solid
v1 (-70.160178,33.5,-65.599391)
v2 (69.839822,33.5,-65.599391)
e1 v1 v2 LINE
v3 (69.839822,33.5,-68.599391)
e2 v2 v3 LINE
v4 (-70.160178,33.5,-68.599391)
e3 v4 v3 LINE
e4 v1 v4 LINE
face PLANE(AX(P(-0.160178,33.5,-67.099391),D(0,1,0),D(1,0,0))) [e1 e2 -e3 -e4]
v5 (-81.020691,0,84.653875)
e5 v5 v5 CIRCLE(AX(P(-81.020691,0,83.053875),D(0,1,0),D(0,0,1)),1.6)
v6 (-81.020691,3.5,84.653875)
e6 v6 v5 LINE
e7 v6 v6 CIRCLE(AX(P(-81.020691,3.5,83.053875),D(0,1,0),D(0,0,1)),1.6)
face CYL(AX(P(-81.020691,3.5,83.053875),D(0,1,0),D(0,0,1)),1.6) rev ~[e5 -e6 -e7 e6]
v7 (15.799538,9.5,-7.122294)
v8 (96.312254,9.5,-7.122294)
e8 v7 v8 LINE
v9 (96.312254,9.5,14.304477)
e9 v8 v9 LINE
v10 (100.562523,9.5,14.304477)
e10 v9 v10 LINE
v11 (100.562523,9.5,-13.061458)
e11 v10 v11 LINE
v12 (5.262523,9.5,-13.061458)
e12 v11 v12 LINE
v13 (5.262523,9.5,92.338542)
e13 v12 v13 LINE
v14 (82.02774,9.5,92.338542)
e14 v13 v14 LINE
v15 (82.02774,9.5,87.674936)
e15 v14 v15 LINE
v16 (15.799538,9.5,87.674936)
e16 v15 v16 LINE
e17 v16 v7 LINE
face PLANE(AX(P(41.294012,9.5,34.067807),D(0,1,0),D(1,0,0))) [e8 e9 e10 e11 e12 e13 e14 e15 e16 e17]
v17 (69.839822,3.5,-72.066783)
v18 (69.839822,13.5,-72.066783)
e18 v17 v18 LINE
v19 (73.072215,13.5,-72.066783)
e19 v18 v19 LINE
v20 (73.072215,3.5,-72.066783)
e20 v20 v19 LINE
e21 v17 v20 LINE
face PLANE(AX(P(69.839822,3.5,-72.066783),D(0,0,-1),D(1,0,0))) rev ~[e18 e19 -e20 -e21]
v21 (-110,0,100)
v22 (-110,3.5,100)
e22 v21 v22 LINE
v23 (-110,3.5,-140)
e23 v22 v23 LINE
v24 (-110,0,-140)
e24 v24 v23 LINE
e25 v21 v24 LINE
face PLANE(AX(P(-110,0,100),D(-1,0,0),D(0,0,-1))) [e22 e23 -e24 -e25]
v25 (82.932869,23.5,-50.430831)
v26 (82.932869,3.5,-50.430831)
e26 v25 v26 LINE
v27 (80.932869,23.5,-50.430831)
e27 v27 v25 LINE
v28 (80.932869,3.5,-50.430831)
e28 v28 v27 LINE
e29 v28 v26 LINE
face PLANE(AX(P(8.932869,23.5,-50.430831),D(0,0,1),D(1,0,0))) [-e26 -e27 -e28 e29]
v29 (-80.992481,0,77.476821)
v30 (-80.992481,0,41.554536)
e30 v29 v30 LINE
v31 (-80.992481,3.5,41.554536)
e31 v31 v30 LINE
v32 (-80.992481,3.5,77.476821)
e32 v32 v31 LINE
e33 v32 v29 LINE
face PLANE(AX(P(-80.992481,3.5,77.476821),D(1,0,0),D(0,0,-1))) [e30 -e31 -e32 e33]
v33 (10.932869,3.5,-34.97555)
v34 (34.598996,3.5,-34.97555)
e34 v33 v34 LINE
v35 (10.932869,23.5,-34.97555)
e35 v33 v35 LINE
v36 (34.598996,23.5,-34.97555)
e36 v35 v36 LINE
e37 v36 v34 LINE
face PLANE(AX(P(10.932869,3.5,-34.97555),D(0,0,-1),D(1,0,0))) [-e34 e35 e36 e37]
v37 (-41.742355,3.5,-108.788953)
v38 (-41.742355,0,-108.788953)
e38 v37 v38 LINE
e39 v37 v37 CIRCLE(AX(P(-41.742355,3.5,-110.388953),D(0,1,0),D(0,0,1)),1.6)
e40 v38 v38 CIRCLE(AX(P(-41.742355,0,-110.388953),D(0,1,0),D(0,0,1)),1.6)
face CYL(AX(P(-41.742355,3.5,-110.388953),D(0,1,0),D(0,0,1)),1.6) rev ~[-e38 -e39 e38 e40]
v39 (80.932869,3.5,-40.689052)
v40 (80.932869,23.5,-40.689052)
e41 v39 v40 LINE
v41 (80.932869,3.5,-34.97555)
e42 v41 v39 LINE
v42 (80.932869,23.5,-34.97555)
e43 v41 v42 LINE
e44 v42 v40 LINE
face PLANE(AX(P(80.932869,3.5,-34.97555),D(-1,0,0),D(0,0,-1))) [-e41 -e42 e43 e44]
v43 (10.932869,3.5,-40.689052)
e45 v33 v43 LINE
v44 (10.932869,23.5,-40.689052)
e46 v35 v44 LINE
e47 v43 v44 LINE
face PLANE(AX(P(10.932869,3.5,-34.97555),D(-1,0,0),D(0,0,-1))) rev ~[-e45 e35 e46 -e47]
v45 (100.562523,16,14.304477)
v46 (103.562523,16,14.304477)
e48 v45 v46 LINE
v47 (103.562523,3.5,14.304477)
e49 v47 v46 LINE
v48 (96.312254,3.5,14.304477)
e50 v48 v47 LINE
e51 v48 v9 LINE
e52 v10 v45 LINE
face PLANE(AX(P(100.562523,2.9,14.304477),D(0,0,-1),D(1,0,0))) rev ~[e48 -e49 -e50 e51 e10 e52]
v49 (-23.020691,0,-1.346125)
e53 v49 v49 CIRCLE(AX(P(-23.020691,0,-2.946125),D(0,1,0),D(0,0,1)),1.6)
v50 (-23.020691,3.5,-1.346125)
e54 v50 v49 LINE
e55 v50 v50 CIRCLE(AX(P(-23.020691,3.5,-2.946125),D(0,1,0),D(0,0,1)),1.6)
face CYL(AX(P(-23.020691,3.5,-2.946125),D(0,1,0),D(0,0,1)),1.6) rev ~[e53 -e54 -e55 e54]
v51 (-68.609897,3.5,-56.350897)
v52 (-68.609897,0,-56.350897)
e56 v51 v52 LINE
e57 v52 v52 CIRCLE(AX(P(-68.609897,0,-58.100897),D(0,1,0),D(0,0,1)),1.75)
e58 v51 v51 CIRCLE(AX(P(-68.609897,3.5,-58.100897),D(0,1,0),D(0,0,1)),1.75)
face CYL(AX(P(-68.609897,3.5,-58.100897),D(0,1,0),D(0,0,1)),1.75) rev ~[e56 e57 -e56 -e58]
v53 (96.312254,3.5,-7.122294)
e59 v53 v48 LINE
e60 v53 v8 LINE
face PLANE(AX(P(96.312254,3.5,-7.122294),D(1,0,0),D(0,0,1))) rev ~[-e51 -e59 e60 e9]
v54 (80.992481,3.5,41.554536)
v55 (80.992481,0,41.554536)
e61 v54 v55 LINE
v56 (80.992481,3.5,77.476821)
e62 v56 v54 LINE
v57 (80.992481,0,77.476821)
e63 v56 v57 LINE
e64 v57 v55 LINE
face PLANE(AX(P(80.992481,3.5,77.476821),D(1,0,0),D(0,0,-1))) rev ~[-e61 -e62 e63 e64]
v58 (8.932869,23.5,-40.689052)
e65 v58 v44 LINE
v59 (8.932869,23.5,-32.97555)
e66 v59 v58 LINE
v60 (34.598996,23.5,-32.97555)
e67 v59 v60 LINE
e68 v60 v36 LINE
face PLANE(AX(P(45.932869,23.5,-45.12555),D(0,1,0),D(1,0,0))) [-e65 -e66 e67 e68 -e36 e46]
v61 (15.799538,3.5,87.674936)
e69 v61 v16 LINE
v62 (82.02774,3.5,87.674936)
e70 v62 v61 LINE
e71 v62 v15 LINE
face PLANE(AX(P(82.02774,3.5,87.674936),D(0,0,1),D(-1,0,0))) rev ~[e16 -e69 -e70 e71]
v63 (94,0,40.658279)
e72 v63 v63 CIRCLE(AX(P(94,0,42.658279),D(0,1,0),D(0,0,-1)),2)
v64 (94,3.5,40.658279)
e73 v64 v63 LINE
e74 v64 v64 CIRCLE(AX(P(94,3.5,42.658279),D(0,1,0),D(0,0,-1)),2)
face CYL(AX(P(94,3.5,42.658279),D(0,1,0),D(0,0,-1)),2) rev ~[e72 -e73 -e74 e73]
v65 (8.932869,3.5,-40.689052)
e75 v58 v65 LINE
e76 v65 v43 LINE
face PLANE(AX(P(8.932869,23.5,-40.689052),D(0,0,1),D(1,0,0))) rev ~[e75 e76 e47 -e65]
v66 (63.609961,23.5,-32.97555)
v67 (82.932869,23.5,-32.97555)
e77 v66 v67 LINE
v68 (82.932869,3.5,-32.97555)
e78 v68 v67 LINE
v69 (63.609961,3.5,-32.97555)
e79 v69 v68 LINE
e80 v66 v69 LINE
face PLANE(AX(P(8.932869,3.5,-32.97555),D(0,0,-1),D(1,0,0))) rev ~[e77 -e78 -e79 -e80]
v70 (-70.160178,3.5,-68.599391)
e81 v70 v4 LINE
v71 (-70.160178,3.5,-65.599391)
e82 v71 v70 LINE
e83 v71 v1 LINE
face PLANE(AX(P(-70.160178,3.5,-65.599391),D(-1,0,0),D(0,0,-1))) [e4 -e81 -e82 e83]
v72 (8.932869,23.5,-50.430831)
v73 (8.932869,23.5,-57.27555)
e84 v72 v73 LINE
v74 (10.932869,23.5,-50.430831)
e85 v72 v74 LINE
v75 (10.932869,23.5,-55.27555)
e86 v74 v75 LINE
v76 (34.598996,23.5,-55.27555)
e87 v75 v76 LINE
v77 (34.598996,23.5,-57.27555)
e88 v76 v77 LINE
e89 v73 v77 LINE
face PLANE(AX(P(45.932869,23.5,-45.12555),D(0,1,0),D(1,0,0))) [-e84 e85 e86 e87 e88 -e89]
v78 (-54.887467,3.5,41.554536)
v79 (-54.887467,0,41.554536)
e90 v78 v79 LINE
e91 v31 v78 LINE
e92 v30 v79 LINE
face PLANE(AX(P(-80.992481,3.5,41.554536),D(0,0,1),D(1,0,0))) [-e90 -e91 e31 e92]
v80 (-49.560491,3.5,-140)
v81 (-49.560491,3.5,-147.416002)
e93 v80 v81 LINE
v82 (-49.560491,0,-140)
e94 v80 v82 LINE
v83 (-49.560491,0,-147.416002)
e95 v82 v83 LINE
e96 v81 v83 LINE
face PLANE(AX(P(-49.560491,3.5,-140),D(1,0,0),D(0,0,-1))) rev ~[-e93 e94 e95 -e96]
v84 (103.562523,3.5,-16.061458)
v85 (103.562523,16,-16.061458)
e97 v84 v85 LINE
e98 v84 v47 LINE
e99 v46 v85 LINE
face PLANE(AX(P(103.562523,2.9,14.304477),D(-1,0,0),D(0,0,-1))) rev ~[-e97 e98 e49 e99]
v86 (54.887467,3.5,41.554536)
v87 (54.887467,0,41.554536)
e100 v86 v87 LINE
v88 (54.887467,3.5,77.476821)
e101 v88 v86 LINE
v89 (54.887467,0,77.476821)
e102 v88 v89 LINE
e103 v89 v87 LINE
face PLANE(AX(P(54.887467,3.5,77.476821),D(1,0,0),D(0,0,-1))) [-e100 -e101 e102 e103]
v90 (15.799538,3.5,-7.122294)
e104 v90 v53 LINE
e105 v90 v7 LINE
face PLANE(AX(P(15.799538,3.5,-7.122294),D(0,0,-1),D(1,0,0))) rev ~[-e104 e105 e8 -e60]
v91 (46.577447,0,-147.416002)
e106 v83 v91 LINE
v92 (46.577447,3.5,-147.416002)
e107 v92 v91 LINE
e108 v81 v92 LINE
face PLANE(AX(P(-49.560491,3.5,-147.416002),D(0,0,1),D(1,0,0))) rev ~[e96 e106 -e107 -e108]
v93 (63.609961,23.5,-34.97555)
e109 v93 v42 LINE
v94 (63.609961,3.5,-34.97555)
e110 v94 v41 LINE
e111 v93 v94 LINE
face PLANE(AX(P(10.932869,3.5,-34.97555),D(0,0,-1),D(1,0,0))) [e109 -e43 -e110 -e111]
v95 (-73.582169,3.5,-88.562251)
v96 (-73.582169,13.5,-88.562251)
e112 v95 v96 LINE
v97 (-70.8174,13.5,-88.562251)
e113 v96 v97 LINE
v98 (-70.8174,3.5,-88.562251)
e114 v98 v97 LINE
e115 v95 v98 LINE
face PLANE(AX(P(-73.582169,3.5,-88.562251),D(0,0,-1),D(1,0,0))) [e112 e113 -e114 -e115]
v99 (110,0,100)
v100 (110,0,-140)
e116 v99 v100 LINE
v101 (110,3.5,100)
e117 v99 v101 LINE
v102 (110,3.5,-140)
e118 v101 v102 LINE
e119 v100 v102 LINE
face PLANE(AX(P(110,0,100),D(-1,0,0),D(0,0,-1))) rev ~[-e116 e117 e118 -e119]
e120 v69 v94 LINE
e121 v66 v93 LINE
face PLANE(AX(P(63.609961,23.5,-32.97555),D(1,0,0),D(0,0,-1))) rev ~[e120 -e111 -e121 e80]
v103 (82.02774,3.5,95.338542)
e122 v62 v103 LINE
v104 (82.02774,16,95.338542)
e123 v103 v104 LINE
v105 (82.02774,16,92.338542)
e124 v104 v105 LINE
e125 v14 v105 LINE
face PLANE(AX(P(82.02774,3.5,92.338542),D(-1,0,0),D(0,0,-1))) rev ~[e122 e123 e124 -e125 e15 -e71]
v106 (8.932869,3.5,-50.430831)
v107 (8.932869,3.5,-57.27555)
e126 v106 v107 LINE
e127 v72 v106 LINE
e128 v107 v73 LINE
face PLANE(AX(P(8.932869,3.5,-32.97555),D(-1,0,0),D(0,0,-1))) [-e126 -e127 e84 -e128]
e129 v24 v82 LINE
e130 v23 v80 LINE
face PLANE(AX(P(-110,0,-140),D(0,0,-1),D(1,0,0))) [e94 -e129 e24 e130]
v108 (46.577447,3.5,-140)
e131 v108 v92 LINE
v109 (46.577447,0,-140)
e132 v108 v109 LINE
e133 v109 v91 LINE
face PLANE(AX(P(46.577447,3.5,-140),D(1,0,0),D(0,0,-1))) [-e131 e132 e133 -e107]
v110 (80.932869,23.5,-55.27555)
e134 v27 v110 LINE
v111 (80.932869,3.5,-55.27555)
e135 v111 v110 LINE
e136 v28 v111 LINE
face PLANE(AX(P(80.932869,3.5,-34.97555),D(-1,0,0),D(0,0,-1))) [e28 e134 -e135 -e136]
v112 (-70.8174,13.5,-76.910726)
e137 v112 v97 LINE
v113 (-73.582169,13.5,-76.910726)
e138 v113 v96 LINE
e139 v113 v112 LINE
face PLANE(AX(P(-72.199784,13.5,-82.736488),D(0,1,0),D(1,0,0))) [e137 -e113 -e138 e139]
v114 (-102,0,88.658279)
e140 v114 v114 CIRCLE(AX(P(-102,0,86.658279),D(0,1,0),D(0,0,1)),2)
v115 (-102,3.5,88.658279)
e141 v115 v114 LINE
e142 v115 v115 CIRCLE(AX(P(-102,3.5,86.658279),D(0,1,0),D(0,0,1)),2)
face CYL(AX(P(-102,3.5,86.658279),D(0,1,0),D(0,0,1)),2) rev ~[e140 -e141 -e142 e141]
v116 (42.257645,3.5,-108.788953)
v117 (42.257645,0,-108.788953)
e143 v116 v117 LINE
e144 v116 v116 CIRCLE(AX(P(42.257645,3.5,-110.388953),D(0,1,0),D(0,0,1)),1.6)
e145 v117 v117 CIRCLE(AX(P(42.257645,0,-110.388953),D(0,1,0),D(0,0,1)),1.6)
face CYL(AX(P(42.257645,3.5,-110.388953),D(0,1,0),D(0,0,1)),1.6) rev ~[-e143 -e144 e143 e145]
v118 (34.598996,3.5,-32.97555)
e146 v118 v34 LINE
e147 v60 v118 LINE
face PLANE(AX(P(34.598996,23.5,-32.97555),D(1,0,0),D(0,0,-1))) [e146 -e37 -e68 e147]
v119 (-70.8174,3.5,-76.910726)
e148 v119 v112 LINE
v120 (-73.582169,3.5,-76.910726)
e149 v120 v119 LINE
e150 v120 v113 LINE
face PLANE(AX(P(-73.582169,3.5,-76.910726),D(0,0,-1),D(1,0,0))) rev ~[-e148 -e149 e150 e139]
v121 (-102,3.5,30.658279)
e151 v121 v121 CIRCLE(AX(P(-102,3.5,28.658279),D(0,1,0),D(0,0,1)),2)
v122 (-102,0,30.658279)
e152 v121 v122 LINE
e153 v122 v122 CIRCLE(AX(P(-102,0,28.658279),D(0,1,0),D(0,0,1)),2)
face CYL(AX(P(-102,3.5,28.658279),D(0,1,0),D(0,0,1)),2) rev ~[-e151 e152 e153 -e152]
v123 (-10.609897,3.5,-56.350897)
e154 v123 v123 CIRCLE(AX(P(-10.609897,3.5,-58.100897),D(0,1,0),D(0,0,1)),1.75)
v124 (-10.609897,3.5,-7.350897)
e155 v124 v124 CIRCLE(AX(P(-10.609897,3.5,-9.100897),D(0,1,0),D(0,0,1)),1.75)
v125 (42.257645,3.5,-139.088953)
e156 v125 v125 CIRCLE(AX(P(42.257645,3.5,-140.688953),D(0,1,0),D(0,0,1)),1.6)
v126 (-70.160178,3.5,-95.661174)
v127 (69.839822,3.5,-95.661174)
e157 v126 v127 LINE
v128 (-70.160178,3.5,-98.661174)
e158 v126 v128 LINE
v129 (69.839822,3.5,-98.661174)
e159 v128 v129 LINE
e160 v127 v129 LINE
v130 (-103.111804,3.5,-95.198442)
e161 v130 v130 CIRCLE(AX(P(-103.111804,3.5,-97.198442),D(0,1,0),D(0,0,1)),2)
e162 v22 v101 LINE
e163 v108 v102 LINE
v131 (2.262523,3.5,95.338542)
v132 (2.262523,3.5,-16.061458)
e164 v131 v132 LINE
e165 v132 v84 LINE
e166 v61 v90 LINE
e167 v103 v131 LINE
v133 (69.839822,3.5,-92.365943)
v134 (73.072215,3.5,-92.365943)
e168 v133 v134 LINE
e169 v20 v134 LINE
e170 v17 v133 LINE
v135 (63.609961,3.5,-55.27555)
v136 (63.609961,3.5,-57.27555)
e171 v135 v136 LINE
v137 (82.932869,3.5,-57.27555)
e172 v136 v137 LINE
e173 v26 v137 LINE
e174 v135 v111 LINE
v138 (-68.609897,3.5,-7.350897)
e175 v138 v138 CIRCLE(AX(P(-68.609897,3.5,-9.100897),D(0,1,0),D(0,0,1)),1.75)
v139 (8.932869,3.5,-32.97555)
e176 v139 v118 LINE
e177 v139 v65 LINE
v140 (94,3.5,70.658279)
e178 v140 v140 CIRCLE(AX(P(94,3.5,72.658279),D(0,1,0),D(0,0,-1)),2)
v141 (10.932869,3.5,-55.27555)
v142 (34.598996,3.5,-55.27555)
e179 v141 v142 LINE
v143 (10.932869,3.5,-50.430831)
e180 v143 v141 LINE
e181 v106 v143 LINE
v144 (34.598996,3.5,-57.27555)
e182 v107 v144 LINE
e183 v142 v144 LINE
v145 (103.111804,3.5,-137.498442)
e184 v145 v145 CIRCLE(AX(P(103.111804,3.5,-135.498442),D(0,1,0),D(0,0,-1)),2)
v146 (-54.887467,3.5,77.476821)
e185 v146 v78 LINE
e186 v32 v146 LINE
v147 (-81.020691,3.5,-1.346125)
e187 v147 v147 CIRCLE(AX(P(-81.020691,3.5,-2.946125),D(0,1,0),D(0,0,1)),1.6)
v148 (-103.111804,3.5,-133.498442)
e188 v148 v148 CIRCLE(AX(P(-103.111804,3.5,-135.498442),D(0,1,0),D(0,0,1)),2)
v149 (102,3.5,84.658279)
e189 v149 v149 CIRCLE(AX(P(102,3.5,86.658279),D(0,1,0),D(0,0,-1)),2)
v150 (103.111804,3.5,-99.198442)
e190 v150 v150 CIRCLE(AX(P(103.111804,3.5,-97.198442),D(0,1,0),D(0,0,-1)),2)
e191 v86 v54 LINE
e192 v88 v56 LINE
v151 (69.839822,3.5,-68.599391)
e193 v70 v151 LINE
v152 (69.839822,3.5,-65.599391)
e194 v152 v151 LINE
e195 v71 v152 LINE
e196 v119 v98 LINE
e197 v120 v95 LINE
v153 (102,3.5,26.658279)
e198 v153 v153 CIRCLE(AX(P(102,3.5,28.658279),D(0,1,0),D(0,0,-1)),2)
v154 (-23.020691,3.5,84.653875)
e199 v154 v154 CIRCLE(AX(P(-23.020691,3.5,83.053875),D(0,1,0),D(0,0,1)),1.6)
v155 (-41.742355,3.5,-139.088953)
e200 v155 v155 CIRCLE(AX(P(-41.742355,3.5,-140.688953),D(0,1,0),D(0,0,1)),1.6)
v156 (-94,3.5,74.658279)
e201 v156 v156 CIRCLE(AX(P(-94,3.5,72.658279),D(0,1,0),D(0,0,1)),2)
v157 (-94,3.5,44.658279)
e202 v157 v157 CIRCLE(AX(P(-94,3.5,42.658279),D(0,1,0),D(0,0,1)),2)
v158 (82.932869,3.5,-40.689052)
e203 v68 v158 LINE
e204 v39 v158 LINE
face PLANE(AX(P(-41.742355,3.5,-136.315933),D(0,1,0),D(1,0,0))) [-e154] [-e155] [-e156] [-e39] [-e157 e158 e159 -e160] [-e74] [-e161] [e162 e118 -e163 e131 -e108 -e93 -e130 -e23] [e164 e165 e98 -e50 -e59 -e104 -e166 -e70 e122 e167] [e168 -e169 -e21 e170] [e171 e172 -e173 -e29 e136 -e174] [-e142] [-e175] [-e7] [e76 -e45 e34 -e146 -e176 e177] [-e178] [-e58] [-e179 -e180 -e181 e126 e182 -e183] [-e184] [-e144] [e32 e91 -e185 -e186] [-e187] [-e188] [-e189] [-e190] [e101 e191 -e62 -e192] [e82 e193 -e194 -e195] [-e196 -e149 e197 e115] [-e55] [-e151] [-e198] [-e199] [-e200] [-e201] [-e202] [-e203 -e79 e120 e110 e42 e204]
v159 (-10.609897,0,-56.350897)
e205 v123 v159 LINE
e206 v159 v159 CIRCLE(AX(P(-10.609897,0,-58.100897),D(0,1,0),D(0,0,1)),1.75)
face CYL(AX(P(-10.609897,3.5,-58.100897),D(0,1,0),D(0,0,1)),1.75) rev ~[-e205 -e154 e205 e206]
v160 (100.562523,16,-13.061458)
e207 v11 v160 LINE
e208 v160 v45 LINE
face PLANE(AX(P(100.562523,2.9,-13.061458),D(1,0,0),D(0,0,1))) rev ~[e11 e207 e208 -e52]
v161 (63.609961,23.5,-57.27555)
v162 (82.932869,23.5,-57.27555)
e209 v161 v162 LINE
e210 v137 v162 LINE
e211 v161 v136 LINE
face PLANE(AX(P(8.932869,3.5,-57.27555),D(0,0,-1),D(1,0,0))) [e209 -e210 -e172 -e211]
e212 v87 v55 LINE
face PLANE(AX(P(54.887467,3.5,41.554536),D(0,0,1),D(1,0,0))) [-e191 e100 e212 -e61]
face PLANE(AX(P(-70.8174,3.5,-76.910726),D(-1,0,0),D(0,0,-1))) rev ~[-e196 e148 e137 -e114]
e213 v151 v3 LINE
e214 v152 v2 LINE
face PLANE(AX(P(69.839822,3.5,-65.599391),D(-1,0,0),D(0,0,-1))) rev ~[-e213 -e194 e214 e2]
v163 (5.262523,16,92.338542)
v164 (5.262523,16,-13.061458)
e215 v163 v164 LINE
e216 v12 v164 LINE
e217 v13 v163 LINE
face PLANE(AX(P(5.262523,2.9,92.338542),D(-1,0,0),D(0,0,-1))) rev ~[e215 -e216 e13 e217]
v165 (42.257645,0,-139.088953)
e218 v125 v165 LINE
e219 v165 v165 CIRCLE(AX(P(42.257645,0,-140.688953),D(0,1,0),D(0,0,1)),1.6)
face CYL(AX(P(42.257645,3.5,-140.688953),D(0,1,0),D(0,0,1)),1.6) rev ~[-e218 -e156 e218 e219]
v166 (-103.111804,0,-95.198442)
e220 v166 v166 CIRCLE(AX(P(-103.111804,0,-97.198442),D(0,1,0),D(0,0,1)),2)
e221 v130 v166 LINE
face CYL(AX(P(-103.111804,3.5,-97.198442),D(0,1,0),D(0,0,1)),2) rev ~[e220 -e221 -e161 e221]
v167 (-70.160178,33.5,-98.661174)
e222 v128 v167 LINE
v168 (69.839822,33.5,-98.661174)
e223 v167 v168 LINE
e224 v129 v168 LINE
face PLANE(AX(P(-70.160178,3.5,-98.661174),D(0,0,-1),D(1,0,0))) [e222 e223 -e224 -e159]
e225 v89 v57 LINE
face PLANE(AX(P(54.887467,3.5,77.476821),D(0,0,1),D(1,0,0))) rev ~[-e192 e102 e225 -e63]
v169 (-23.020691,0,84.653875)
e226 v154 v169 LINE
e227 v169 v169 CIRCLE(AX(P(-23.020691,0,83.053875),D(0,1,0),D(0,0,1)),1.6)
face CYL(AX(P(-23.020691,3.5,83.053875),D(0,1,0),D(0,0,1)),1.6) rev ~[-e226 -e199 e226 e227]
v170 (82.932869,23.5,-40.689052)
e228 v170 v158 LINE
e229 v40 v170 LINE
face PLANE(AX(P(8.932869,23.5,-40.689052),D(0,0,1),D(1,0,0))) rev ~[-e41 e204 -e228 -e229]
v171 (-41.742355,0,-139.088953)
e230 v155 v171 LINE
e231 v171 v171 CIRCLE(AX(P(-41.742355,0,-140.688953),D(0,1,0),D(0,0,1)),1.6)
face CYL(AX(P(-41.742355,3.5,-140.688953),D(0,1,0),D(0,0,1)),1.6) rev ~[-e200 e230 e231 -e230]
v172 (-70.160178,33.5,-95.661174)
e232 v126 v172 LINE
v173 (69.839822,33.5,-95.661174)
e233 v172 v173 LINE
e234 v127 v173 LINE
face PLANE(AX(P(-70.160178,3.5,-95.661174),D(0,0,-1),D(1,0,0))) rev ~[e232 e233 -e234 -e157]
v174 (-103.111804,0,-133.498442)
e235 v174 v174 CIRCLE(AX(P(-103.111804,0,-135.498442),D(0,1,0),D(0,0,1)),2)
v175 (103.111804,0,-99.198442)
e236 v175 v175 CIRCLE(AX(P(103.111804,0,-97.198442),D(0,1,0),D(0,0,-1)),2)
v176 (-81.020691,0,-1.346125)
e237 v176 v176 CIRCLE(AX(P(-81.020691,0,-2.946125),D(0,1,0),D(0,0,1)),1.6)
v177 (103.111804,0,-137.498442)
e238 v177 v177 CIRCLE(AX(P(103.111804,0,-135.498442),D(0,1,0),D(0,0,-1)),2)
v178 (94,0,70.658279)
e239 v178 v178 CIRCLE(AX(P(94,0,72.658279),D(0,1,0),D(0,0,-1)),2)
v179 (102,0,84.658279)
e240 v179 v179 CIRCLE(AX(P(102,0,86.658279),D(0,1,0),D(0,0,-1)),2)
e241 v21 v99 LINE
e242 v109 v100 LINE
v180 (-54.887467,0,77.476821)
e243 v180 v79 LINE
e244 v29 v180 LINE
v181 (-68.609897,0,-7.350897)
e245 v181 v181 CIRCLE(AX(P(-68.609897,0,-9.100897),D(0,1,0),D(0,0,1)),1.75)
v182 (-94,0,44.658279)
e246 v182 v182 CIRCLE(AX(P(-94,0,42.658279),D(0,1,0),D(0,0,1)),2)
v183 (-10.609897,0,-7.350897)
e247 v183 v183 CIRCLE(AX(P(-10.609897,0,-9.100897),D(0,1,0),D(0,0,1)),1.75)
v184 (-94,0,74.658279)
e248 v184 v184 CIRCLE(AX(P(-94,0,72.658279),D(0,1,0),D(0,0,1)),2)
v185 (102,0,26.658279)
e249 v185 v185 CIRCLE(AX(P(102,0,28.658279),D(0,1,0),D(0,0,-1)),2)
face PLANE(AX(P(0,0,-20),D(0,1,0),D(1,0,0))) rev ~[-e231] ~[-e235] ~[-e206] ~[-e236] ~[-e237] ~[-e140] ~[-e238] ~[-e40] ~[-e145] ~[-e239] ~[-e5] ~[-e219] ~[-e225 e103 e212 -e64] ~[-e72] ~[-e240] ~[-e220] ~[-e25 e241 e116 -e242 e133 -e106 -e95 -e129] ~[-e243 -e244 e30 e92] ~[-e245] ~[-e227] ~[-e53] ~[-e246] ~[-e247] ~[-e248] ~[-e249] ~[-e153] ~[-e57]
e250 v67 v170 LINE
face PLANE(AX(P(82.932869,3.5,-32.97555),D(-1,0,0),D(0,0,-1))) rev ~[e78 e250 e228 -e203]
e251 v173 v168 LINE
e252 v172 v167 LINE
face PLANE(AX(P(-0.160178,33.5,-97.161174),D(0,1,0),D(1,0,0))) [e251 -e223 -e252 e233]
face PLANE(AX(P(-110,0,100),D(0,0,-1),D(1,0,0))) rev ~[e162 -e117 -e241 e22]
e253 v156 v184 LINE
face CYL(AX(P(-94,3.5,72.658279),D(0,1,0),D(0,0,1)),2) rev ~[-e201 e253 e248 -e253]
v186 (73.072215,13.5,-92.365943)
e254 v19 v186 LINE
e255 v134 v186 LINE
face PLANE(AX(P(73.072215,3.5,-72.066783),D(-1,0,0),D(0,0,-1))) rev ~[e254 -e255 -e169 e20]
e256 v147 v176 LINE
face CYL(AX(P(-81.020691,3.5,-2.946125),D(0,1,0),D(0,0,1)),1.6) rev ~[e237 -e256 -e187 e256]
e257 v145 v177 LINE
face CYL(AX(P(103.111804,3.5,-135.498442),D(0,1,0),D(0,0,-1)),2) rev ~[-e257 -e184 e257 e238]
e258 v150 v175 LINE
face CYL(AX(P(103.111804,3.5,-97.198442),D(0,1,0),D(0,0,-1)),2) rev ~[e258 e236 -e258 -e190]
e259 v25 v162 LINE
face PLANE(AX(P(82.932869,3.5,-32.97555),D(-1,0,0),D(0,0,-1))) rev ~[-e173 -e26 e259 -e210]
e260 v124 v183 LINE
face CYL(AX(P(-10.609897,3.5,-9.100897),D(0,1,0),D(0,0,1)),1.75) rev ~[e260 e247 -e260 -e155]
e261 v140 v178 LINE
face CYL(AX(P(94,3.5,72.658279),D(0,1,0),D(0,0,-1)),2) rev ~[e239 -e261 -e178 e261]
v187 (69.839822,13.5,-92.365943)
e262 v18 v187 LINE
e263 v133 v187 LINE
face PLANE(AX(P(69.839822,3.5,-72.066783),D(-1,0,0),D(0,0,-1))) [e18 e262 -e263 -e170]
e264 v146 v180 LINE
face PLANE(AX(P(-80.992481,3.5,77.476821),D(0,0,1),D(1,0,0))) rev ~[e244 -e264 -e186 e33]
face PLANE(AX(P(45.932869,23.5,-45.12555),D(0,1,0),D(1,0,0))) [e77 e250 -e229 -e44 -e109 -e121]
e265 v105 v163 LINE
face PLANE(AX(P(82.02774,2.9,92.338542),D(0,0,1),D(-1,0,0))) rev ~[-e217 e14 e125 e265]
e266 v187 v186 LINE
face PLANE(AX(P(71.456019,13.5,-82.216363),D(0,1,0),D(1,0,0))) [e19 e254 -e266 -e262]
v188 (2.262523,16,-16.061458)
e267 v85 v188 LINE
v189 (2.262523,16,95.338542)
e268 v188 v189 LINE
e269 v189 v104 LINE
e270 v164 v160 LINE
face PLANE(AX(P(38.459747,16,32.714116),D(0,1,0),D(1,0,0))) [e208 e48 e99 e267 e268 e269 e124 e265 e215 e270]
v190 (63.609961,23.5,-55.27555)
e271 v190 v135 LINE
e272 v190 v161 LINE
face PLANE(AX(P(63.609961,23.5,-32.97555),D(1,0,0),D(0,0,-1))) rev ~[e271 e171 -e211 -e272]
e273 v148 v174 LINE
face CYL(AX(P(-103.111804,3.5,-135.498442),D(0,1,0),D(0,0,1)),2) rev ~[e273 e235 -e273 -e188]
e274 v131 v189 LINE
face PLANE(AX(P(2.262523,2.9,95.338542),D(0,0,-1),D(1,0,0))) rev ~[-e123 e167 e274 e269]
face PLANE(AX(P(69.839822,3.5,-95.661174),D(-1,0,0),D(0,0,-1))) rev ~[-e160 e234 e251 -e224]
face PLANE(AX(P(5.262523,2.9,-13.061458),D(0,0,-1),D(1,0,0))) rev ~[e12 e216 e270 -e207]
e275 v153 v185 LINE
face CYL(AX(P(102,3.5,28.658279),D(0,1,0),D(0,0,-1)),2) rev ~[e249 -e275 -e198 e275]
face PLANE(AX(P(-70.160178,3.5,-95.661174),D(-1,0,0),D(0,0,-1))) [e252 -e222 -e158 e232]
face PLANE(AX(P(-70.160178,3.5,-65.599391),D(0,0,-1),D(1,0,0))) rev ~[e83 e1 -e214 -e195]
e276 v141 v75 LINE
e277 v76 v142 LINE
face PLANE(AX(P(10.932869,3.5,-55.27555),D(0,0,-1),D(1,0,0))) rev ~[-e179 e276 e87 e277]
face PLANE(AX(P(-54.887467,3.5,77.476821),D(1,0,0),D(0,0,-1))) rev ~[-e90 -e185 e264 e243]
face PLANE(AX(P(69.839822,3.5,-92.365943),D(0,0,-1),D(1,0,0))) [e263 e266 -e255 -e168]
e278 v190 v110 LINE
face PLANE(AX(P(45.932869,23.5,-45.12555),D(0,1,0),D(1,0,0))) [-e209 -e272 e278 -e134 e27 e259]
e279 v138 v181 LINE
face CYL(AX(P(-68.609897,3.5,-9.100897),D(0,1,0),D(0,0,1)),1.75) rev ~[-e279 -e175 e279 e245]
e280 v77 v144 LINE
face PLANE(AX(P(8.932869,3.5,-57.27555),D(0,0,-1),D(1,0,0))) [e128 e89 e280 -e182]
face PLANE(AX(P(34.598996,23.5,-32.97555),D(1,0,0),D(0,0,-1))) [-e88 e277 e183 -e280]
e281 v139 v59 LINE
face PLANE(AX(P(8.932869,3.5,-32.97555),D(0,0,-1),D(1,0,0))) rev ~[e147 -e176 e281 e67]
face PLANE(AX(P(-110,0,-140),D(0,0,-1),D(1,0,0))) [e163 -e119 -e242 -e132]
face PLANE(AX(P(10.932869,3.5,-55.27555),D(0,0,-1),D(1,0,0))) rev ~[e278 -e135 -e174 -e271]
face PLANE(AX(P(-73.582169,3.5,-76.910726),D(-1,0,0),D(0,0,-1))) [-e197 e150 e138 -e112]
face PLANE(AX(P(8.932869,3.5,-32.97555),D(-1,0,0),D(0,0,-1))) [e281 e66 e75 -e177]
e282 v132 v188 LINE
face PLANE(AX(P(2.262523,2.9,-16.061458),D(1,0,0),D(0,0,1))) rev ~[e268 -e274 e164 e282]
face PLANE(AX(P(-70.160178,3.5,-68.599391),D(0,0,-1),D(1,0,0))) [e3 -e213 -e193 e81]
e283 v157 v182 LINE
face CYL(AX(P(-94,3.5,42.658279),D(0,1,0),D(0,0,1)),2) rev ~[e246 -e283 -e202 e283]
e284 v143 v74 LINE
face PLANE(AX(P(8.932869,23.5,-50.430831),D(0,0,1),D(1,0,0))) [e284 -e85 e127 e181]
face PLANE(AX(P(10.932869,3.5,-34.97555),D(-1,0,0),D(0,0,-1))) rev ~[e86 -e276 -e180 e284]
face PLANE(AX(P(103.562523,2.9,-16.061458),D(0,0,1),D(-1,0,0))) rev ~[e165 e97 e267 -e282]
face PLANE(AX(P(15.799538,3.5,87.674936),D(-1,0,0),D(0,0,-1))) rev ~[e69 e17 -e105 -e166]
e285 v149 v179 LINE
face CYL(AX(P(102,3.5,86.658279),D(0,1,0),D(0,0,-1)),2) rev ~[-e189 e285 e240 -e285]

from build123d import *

# Parameters (mm, degrees)
SKETCH_1_W           = 220
SKETCH_1_H           = 240
EXTRUDE_2_DEPTH      = 3.5
SKETCH_2_R           = 2
CUT_EXTRUDE_2_DEPTH  = 3.5
SKETCH_3_R           = 2
CUT_EXTRUDE_3_DEPTH  = 3.5
SKETCH_5_R           = 1.6
CUT_EXTRUDE_4_DEPTH  = 5
EXTRUDE_5_DEPTH      = 6
EXTRUDE_6_DEPTH      = 6.5
EXTRUDE_6_DEPTH_BACK = 6.6
SKETCH_10_R          = 1.6
CUT_EXTRUDE_5_DEPTH  = 6.5
SKETCH_11_W          = 140
SKETCH_11_H          = 3
EXTRUDE_7_DEPTH      = 30
SKETCH_12_W          = 3.232393119
SKETCH_12_H          = 20.299160217
EXTRUDE_8_DEPTH      = 10
SKETCH_13_W          = 2.764768701
SKETCH_13_H          = 11.651525239
EXTRUDE_9_DEPTH      = 10
SKETCH_16_W          = 96.137938664
SKETCH_16_H          = 7.416001845
EXTRUDE_10_DEPTH     = 3.5
SKETCH_17_R          = 1.6
EXTRUDE_11_DEPTH     = 3.5
SKETCH_18_R          = 1.6
CUT_EXTRUDE_7_DEPTH  = 10
SKETCH_19_R          = 1.75
CUT_EXTRUDE_8_DEPTH  = 10
SKETCH_20_W          = 74
SKETCH_20_H          = 24.3
SKETCH_20_W_2        = 70
SKETCH_20_H_2        = 20.3
EXTRUDE_12_DEPTH     = 20
SKETCH_21_W          = 74
SKETCH_21_H          = 9.741779049
CUT_EXTRUDE_9_DEPTH  = 20
SKETCH_22_W          = 29.010965049
SKETCH_22_H          = 24.3
CUT_EXTRUDE_10_DEPTH = 20
SKETCH_23_W          = 26.105014581
SKETCH_23_H          = 35.922285021
CUT_EXTRUDE_11_DEPTH = 20


with BuildPart() as part:
    # 草图1 → 凸台-拉伸2 (new body)
    with BuildSketch(Plane(origin=(0, 0, 0), x_dir=(1, 0, 0), z_dir=(0, 1, 0))):
        with Locations((0, 20)):
            Rectangle(SKETCH_1_W, SKETCH_1_H)
    extrude(amount=EXTRUDE_2_DEPTH)

    # 草图2 → 切除-拉伸2 (cut)
    with BuildSketch(Plane(origin=(0, 3.5, 0), x_dir=(1, 0, 0), z_dir=(0, 1, 0))):
        with Locations(Location((-102, -28.658278573, 0), (0, 0, 270))):
            Circle(SKETCH_2_R)
        with Locations(Location((-102, -86.658278573, 0), (0, 0, 270))):
            Circle(SKETCH_2_R)
        with Locations(Location((-94, -42.658278573, 0), (0, 0, 270))):
            Circle(SKETCH_2_R)
        with Locations(Location((-94, -72.658278573, 0), (0, 0, 270))):
            Circle(SKETCH_2_R)
        with Locations(Location((94, -72.658278573, 0), (0, 0, 90))):
            Circle(SKETCH_2_R)
        with Locations(Location((94, -42.658278573, 0), (0, 0, 90))):
            Circle(SKETCH_2_R)
        with Locations(Location((102, -86.658278573, 0), (0, 0, 90))):
            Circle(SKETCH_2_R)
        with Locations(Location((102, -28.658278573, 0), (0, 0, 90))):
            Circle(SKETCH_2_R)
    extrude(amount=-CUT_EXTRUDE_2_DEPTH, mode=Mode.SUBTRACT)

    # 草图3 → 切除-拉伸3 (cut)
    with BuildSketch(Plane(origin=(0, 3.5, 0), x_dir=(1, 0, 0), z_dir=(0, 1, 0))):
        with Locations(Location((-103.111804302, 135.498442221, 0), (0, 0, 270))):
            Circle(SKETCH_3_R)
        with Locations(Location((-103.111804302, 97.198442221, 0), (0, 0, 270))):
            Circle(SKETCH_3_R)
        with Locations(Location((103.111804302, 97.198442221, 0), (0, 0, 90))):
            Circle(SKETCH_3_R)
        with Locations(Location((103.111804302, 135.498442221, 0), (0, 0, 90))):
            Circle(SKETCH_3_R)
    extrude(amount=-CUT_EXTRUDE_3_DEPTH, mode=Mode.SUBTRACT)

    # 草图5 → 切除-拉伸4 (cut)
    with BuildSketch(Plane(origin=(0, 3.5, 0), x_dir=(1, 0, 0), z_dir=(0, 1, 0))):
        with Locations(Location((-81.020690523, 2.946124731, 0), (0, 0, 270))):
            Circle(SKETCH_5_R)
        with Locations(Location((-23.020690523, 2.946124731, 0), (0, 0, 270))):
            Circle(SKETCH_5_R)
        with Locations(Location((-81.020690523, -83.053875269, 0), (0, 0, 270))):
            Circle(SKETCH_5_R)
        with Locations(Location((-23.020690523, -83.053875269, 0), (0, 0, 270))):
            Circle(SKETCH_5_R)
    extrude(amount=-CUT_EXTRUDE_4_DEPTH, mode=Mode.SUBTRACT)

    # 草图6 → 凸台-拉伸5 (add)
    with BuildSketch(Plane(origin=(0, 3.5, 0), x_dir=(1, 0, 0), z_dir=(0, 1, 0))):
        Polygon((5.262523113, 13.061457841), (5.262523113, -92.338542159), (82.027739865, -92.338542159), (82.027739865, -87.674935575), (15.799538285, -87.674935575), (15.799538285, 7.122294137), (18.613154692, 7.122294137), (82.027739865, 7.122294137), (96.312253931, 7.122294137), (96.312253931, -14.304476962), (100.562523113, -14.304476962), (100.562523113, 13.061457841), align=None)
    extrude(amount=EXTRUDE_5_DEPTH)

    # 草图9 → 凸台-拉伸6 (add, two sides: drawn at the far end of the back side and taken through both)
    with BuildSketch(Plane(origin=(0, 9.5, 0), x_dir=(1, 0, 0), z_dir=(0, 1, 0)).offset(-EXTRUDE_6_DEPTH_BACK)):
        Polygon((100.562523113, -14.304476962), (103.562523113, -14.304476962), (103.562523113, 16.061457841), (2.262523113, 16.061457841), (2.262523113, -95.338542159), (82.027739865, -95.338542159), (82.027739865, -92.338542159), (5.262523113, -92.338542159), (5.262523113, 13.061457841), (100.562523113, 13.061457841), align=None)
    extrude(amount=EXTRUDE_6_DEPTH + EXTRUDE_6_DEPTH_BACK)

    # 草图10 → 切除-拉伸5 (cut)
    with BuildSketch(Plane(origin=(0, 3.5, 0), x_dir=(1, 0, 0), z_dir=(0, 1, 0))):
        with Locations(Location((-41.742355154, 136.315932828, 0), (0, 0, 270))):
            Circle(SKETCH_10_R)
        with Locations(Location((42.257644846, 136.315932828, 0), (0, 0, 270))):
            Circle(SKETCH_10_R)
        with Locations(Location((42.257644846, 106.015932828, 0), (0, 0, 270))):
            Circle(SKETCH_10_R)
        with Locations(Location((-41.742355154, 106.015932828, 0), (0, 0, 270))):
            Circle(SKETCH_10_R)
    extrude(amount=-CUT_EXTRUDE_5_DEPTH, mode=Mode.SUBTRACT)

    # 草图11 → 凸台-拉伸7 (add)
    with BuildSketch(Plane(origin=(0, 3.5, 0), x_dir=(1, 0, 0), z_dir=(0, 1, 0))):
        with Locations((-0.160177845, 97.161173923)):
            Rectangle(SKETCH_11_W, SKETCH_11_H)
        with Locations((-0.160177845, 67.099391039)):
            Rectangle(SKETCH_11_W, SKETCH_11_H)
    extrude(amount=EXTRUDE_7_DEPTH)

    # 草图12 → 凸台-拉伸8 (add)
    with BuildSketch(Plane(origin=(0, 3.5, 0), x_dir=(1, 0, 0), z_dir=(0, 1, 0))):
        with Locations((71.456018715, 82.21636334)):
            Rectangle(SKETCH_12_W, SKETCH_12_H)
    extrude(amount=EXTRUDE_8_DEPTH)

    # 草图13 → 凸台-拉伸9 (add)
    with BuildSketch(Plane(origin=(0, 3.5, 0), x_dir=(1, 0, 0), z_dir=(0, 1, 0))):
        with Locations((-72.199784206, 82.73648821)):
            Rectangle(SKETCH_13_W, SKETCH_13_H)
    extrude(amount=EXTRUDE_9_DEPTH)

    # 草图16 → 凸台-拉伸10 (add)
    with BuildSketch(Plane(origin=(0, 3.5, 0), x_dir=(1, 0, 0), z_dir=(0, 1, 0))):
        with Locations((-1.491522008, 143.708000922)):
            Rectangle(SKETCH_16_W, SKETCH_16_H)
    extrude(amount=-EXTRUDE_10_DEPTH)

    # 草图17 → 凸台-拉伸11 (add)
    with BuildSketch(Plane(origin=(0, 3.5, 0), x_dir=(1, 0, 0), z_dir=(0, 1, 0))):
        with Locations((-41.742355154, 136.315932828)):
            Circle(SKETCH_17_R)
        with Locations((-41.742355154, 106.015932828)):
            Circle(SKETCH_17_R)
        with Locations((42.257644846, 106.015932828)):
            Circle(SKETCH_17_R)
        with Locations((42.257644846, 136.315932828)):
            Circle(SKETCH_17_R)
    extrude(amount=-EXTRUDE_11_DEPTH)

    # 草图18 → 切除-拉伸7 (cut)
    with BuildSketch(Plane(origin=(0, 3.5, 0), x_dir=(1, 0, 0), z_dir=(0, 1, 0))):
        with Locations(Location((-41.742355154, 140.688952656, 0), (0, 0, 270))):
            Circle(SKETCH_18_R)
        with Locations(Location((-41.742355154, 110.388952656, 0), (0, 0, 270))):
            Circle(SKETCH_18_R)
        with Locations(Location((42.257644846, 110.388952656, 0), (0, 0, 270))):
            Circle(SKETCH_18_R)
        with Locations(Location((42.257644846, 140.688952656, 0), (0, 0, 270))):
            Circle(SKETCH_18_R)
    extrude(amount=-CUT_EXTRUDE_7_DEPTH, mode=Mode.SUBTRACT)

    # 草图19 → 切除-拉伸8 (cut)
    with BuildSketch(Plane(origin=(0, 3.5, 0), x_dir=(1, 0, 0), z_dir=(0, 1, 0))):
        with Locations(Location((-10.609897324, 58.100897113, 0), (0, 0, 270))):
            Circle(SKETCH_19_R)
        with Locations(Location((-68.609897324, 58.100897113, 0), (0, 0, 270))):
            Circle(SKETCH_19_R)
        with Locations(Location((-68.609897324, 9.100897113, 0), (0, 0, 270))):
            Circle(SKETCH_19_R)
        with Locations(Location((-10.609897324, 9.100897113, 0), (0, 0, 270))):
            Circle(SKETCH_19_R)
    extrude(amount=-CUT_EXTRUDE_8_DEPTH, mode=Mode.SUBTRACT)

    # 草图20 → 凸台-拉伸12 (add)
    with BuildSketch(Plane(origin=(0, 3.5, 0), x_dir=(1, 0, 0), z_dir=(0, 1, 0))):
        with Locations((45.932869354, 45.125549951)):
            Rectangle(SKETCH_20_W, SKETCH_20_H)
        with Locations((45.932869354, 45.125549951)):
            Rectangle(SKETCH_20_W_2, SKETCH_20_H_2, mode=Mode.SUBTRACT)
    extrude(amount=EXTRUDE_12_DEPTH)

    # 草图21 → 切除-拉伸9 (cut)
    with BuildSketch(Plane(origin=(0, 23.5, 0), x_dir=(1, 0, 0), z_dir=(0, 1, 0))):
        with Locations((45.932869354, 45.559941107)):
            Rectangle(SKETCH_21_W, SKETCH_21_H)
    extrude(amount=-CUT_EXTRUDE_9_DEPTH, mode=Mode.SUBTRACT)

    # 草图22 → 切除-拉伸10 (cut)
    with BuildSketch(Plane(origin=(0, 23.5, 0), x_dir=(1, 0, 0), z_dir=(0, 1, 0))):
        with Locations((49.104478838, 45.125549951)):
            Rectangle(SKETCH_22_W, SKETCH_22_H)
    extrude(amount=-CUT_EXTRUDE_10_DEPTH, mode=Mode.SUBTRACT)

    # 草图23 → 切除-拉伸11 (cut)
    with BuildSketch(Plane(origin=(0, 3.5, 0), x_dir=(1, 0, 0), z_dir=(0, 1, 0))):
        with Locations((-67.939973843, -59.515678039)):
            Rectangle(SKETCH_23_W, SKETCH_23_H)
        with Locations((67.939973843, -59.515678039)):
            Rectangle(SKETCH_23_W, SKETCH_23_H)
    extrude(amount=-CUT_EXTRUDE_11_DEPTH, mode=Mode.SUBTRACT)


solid = part.part
